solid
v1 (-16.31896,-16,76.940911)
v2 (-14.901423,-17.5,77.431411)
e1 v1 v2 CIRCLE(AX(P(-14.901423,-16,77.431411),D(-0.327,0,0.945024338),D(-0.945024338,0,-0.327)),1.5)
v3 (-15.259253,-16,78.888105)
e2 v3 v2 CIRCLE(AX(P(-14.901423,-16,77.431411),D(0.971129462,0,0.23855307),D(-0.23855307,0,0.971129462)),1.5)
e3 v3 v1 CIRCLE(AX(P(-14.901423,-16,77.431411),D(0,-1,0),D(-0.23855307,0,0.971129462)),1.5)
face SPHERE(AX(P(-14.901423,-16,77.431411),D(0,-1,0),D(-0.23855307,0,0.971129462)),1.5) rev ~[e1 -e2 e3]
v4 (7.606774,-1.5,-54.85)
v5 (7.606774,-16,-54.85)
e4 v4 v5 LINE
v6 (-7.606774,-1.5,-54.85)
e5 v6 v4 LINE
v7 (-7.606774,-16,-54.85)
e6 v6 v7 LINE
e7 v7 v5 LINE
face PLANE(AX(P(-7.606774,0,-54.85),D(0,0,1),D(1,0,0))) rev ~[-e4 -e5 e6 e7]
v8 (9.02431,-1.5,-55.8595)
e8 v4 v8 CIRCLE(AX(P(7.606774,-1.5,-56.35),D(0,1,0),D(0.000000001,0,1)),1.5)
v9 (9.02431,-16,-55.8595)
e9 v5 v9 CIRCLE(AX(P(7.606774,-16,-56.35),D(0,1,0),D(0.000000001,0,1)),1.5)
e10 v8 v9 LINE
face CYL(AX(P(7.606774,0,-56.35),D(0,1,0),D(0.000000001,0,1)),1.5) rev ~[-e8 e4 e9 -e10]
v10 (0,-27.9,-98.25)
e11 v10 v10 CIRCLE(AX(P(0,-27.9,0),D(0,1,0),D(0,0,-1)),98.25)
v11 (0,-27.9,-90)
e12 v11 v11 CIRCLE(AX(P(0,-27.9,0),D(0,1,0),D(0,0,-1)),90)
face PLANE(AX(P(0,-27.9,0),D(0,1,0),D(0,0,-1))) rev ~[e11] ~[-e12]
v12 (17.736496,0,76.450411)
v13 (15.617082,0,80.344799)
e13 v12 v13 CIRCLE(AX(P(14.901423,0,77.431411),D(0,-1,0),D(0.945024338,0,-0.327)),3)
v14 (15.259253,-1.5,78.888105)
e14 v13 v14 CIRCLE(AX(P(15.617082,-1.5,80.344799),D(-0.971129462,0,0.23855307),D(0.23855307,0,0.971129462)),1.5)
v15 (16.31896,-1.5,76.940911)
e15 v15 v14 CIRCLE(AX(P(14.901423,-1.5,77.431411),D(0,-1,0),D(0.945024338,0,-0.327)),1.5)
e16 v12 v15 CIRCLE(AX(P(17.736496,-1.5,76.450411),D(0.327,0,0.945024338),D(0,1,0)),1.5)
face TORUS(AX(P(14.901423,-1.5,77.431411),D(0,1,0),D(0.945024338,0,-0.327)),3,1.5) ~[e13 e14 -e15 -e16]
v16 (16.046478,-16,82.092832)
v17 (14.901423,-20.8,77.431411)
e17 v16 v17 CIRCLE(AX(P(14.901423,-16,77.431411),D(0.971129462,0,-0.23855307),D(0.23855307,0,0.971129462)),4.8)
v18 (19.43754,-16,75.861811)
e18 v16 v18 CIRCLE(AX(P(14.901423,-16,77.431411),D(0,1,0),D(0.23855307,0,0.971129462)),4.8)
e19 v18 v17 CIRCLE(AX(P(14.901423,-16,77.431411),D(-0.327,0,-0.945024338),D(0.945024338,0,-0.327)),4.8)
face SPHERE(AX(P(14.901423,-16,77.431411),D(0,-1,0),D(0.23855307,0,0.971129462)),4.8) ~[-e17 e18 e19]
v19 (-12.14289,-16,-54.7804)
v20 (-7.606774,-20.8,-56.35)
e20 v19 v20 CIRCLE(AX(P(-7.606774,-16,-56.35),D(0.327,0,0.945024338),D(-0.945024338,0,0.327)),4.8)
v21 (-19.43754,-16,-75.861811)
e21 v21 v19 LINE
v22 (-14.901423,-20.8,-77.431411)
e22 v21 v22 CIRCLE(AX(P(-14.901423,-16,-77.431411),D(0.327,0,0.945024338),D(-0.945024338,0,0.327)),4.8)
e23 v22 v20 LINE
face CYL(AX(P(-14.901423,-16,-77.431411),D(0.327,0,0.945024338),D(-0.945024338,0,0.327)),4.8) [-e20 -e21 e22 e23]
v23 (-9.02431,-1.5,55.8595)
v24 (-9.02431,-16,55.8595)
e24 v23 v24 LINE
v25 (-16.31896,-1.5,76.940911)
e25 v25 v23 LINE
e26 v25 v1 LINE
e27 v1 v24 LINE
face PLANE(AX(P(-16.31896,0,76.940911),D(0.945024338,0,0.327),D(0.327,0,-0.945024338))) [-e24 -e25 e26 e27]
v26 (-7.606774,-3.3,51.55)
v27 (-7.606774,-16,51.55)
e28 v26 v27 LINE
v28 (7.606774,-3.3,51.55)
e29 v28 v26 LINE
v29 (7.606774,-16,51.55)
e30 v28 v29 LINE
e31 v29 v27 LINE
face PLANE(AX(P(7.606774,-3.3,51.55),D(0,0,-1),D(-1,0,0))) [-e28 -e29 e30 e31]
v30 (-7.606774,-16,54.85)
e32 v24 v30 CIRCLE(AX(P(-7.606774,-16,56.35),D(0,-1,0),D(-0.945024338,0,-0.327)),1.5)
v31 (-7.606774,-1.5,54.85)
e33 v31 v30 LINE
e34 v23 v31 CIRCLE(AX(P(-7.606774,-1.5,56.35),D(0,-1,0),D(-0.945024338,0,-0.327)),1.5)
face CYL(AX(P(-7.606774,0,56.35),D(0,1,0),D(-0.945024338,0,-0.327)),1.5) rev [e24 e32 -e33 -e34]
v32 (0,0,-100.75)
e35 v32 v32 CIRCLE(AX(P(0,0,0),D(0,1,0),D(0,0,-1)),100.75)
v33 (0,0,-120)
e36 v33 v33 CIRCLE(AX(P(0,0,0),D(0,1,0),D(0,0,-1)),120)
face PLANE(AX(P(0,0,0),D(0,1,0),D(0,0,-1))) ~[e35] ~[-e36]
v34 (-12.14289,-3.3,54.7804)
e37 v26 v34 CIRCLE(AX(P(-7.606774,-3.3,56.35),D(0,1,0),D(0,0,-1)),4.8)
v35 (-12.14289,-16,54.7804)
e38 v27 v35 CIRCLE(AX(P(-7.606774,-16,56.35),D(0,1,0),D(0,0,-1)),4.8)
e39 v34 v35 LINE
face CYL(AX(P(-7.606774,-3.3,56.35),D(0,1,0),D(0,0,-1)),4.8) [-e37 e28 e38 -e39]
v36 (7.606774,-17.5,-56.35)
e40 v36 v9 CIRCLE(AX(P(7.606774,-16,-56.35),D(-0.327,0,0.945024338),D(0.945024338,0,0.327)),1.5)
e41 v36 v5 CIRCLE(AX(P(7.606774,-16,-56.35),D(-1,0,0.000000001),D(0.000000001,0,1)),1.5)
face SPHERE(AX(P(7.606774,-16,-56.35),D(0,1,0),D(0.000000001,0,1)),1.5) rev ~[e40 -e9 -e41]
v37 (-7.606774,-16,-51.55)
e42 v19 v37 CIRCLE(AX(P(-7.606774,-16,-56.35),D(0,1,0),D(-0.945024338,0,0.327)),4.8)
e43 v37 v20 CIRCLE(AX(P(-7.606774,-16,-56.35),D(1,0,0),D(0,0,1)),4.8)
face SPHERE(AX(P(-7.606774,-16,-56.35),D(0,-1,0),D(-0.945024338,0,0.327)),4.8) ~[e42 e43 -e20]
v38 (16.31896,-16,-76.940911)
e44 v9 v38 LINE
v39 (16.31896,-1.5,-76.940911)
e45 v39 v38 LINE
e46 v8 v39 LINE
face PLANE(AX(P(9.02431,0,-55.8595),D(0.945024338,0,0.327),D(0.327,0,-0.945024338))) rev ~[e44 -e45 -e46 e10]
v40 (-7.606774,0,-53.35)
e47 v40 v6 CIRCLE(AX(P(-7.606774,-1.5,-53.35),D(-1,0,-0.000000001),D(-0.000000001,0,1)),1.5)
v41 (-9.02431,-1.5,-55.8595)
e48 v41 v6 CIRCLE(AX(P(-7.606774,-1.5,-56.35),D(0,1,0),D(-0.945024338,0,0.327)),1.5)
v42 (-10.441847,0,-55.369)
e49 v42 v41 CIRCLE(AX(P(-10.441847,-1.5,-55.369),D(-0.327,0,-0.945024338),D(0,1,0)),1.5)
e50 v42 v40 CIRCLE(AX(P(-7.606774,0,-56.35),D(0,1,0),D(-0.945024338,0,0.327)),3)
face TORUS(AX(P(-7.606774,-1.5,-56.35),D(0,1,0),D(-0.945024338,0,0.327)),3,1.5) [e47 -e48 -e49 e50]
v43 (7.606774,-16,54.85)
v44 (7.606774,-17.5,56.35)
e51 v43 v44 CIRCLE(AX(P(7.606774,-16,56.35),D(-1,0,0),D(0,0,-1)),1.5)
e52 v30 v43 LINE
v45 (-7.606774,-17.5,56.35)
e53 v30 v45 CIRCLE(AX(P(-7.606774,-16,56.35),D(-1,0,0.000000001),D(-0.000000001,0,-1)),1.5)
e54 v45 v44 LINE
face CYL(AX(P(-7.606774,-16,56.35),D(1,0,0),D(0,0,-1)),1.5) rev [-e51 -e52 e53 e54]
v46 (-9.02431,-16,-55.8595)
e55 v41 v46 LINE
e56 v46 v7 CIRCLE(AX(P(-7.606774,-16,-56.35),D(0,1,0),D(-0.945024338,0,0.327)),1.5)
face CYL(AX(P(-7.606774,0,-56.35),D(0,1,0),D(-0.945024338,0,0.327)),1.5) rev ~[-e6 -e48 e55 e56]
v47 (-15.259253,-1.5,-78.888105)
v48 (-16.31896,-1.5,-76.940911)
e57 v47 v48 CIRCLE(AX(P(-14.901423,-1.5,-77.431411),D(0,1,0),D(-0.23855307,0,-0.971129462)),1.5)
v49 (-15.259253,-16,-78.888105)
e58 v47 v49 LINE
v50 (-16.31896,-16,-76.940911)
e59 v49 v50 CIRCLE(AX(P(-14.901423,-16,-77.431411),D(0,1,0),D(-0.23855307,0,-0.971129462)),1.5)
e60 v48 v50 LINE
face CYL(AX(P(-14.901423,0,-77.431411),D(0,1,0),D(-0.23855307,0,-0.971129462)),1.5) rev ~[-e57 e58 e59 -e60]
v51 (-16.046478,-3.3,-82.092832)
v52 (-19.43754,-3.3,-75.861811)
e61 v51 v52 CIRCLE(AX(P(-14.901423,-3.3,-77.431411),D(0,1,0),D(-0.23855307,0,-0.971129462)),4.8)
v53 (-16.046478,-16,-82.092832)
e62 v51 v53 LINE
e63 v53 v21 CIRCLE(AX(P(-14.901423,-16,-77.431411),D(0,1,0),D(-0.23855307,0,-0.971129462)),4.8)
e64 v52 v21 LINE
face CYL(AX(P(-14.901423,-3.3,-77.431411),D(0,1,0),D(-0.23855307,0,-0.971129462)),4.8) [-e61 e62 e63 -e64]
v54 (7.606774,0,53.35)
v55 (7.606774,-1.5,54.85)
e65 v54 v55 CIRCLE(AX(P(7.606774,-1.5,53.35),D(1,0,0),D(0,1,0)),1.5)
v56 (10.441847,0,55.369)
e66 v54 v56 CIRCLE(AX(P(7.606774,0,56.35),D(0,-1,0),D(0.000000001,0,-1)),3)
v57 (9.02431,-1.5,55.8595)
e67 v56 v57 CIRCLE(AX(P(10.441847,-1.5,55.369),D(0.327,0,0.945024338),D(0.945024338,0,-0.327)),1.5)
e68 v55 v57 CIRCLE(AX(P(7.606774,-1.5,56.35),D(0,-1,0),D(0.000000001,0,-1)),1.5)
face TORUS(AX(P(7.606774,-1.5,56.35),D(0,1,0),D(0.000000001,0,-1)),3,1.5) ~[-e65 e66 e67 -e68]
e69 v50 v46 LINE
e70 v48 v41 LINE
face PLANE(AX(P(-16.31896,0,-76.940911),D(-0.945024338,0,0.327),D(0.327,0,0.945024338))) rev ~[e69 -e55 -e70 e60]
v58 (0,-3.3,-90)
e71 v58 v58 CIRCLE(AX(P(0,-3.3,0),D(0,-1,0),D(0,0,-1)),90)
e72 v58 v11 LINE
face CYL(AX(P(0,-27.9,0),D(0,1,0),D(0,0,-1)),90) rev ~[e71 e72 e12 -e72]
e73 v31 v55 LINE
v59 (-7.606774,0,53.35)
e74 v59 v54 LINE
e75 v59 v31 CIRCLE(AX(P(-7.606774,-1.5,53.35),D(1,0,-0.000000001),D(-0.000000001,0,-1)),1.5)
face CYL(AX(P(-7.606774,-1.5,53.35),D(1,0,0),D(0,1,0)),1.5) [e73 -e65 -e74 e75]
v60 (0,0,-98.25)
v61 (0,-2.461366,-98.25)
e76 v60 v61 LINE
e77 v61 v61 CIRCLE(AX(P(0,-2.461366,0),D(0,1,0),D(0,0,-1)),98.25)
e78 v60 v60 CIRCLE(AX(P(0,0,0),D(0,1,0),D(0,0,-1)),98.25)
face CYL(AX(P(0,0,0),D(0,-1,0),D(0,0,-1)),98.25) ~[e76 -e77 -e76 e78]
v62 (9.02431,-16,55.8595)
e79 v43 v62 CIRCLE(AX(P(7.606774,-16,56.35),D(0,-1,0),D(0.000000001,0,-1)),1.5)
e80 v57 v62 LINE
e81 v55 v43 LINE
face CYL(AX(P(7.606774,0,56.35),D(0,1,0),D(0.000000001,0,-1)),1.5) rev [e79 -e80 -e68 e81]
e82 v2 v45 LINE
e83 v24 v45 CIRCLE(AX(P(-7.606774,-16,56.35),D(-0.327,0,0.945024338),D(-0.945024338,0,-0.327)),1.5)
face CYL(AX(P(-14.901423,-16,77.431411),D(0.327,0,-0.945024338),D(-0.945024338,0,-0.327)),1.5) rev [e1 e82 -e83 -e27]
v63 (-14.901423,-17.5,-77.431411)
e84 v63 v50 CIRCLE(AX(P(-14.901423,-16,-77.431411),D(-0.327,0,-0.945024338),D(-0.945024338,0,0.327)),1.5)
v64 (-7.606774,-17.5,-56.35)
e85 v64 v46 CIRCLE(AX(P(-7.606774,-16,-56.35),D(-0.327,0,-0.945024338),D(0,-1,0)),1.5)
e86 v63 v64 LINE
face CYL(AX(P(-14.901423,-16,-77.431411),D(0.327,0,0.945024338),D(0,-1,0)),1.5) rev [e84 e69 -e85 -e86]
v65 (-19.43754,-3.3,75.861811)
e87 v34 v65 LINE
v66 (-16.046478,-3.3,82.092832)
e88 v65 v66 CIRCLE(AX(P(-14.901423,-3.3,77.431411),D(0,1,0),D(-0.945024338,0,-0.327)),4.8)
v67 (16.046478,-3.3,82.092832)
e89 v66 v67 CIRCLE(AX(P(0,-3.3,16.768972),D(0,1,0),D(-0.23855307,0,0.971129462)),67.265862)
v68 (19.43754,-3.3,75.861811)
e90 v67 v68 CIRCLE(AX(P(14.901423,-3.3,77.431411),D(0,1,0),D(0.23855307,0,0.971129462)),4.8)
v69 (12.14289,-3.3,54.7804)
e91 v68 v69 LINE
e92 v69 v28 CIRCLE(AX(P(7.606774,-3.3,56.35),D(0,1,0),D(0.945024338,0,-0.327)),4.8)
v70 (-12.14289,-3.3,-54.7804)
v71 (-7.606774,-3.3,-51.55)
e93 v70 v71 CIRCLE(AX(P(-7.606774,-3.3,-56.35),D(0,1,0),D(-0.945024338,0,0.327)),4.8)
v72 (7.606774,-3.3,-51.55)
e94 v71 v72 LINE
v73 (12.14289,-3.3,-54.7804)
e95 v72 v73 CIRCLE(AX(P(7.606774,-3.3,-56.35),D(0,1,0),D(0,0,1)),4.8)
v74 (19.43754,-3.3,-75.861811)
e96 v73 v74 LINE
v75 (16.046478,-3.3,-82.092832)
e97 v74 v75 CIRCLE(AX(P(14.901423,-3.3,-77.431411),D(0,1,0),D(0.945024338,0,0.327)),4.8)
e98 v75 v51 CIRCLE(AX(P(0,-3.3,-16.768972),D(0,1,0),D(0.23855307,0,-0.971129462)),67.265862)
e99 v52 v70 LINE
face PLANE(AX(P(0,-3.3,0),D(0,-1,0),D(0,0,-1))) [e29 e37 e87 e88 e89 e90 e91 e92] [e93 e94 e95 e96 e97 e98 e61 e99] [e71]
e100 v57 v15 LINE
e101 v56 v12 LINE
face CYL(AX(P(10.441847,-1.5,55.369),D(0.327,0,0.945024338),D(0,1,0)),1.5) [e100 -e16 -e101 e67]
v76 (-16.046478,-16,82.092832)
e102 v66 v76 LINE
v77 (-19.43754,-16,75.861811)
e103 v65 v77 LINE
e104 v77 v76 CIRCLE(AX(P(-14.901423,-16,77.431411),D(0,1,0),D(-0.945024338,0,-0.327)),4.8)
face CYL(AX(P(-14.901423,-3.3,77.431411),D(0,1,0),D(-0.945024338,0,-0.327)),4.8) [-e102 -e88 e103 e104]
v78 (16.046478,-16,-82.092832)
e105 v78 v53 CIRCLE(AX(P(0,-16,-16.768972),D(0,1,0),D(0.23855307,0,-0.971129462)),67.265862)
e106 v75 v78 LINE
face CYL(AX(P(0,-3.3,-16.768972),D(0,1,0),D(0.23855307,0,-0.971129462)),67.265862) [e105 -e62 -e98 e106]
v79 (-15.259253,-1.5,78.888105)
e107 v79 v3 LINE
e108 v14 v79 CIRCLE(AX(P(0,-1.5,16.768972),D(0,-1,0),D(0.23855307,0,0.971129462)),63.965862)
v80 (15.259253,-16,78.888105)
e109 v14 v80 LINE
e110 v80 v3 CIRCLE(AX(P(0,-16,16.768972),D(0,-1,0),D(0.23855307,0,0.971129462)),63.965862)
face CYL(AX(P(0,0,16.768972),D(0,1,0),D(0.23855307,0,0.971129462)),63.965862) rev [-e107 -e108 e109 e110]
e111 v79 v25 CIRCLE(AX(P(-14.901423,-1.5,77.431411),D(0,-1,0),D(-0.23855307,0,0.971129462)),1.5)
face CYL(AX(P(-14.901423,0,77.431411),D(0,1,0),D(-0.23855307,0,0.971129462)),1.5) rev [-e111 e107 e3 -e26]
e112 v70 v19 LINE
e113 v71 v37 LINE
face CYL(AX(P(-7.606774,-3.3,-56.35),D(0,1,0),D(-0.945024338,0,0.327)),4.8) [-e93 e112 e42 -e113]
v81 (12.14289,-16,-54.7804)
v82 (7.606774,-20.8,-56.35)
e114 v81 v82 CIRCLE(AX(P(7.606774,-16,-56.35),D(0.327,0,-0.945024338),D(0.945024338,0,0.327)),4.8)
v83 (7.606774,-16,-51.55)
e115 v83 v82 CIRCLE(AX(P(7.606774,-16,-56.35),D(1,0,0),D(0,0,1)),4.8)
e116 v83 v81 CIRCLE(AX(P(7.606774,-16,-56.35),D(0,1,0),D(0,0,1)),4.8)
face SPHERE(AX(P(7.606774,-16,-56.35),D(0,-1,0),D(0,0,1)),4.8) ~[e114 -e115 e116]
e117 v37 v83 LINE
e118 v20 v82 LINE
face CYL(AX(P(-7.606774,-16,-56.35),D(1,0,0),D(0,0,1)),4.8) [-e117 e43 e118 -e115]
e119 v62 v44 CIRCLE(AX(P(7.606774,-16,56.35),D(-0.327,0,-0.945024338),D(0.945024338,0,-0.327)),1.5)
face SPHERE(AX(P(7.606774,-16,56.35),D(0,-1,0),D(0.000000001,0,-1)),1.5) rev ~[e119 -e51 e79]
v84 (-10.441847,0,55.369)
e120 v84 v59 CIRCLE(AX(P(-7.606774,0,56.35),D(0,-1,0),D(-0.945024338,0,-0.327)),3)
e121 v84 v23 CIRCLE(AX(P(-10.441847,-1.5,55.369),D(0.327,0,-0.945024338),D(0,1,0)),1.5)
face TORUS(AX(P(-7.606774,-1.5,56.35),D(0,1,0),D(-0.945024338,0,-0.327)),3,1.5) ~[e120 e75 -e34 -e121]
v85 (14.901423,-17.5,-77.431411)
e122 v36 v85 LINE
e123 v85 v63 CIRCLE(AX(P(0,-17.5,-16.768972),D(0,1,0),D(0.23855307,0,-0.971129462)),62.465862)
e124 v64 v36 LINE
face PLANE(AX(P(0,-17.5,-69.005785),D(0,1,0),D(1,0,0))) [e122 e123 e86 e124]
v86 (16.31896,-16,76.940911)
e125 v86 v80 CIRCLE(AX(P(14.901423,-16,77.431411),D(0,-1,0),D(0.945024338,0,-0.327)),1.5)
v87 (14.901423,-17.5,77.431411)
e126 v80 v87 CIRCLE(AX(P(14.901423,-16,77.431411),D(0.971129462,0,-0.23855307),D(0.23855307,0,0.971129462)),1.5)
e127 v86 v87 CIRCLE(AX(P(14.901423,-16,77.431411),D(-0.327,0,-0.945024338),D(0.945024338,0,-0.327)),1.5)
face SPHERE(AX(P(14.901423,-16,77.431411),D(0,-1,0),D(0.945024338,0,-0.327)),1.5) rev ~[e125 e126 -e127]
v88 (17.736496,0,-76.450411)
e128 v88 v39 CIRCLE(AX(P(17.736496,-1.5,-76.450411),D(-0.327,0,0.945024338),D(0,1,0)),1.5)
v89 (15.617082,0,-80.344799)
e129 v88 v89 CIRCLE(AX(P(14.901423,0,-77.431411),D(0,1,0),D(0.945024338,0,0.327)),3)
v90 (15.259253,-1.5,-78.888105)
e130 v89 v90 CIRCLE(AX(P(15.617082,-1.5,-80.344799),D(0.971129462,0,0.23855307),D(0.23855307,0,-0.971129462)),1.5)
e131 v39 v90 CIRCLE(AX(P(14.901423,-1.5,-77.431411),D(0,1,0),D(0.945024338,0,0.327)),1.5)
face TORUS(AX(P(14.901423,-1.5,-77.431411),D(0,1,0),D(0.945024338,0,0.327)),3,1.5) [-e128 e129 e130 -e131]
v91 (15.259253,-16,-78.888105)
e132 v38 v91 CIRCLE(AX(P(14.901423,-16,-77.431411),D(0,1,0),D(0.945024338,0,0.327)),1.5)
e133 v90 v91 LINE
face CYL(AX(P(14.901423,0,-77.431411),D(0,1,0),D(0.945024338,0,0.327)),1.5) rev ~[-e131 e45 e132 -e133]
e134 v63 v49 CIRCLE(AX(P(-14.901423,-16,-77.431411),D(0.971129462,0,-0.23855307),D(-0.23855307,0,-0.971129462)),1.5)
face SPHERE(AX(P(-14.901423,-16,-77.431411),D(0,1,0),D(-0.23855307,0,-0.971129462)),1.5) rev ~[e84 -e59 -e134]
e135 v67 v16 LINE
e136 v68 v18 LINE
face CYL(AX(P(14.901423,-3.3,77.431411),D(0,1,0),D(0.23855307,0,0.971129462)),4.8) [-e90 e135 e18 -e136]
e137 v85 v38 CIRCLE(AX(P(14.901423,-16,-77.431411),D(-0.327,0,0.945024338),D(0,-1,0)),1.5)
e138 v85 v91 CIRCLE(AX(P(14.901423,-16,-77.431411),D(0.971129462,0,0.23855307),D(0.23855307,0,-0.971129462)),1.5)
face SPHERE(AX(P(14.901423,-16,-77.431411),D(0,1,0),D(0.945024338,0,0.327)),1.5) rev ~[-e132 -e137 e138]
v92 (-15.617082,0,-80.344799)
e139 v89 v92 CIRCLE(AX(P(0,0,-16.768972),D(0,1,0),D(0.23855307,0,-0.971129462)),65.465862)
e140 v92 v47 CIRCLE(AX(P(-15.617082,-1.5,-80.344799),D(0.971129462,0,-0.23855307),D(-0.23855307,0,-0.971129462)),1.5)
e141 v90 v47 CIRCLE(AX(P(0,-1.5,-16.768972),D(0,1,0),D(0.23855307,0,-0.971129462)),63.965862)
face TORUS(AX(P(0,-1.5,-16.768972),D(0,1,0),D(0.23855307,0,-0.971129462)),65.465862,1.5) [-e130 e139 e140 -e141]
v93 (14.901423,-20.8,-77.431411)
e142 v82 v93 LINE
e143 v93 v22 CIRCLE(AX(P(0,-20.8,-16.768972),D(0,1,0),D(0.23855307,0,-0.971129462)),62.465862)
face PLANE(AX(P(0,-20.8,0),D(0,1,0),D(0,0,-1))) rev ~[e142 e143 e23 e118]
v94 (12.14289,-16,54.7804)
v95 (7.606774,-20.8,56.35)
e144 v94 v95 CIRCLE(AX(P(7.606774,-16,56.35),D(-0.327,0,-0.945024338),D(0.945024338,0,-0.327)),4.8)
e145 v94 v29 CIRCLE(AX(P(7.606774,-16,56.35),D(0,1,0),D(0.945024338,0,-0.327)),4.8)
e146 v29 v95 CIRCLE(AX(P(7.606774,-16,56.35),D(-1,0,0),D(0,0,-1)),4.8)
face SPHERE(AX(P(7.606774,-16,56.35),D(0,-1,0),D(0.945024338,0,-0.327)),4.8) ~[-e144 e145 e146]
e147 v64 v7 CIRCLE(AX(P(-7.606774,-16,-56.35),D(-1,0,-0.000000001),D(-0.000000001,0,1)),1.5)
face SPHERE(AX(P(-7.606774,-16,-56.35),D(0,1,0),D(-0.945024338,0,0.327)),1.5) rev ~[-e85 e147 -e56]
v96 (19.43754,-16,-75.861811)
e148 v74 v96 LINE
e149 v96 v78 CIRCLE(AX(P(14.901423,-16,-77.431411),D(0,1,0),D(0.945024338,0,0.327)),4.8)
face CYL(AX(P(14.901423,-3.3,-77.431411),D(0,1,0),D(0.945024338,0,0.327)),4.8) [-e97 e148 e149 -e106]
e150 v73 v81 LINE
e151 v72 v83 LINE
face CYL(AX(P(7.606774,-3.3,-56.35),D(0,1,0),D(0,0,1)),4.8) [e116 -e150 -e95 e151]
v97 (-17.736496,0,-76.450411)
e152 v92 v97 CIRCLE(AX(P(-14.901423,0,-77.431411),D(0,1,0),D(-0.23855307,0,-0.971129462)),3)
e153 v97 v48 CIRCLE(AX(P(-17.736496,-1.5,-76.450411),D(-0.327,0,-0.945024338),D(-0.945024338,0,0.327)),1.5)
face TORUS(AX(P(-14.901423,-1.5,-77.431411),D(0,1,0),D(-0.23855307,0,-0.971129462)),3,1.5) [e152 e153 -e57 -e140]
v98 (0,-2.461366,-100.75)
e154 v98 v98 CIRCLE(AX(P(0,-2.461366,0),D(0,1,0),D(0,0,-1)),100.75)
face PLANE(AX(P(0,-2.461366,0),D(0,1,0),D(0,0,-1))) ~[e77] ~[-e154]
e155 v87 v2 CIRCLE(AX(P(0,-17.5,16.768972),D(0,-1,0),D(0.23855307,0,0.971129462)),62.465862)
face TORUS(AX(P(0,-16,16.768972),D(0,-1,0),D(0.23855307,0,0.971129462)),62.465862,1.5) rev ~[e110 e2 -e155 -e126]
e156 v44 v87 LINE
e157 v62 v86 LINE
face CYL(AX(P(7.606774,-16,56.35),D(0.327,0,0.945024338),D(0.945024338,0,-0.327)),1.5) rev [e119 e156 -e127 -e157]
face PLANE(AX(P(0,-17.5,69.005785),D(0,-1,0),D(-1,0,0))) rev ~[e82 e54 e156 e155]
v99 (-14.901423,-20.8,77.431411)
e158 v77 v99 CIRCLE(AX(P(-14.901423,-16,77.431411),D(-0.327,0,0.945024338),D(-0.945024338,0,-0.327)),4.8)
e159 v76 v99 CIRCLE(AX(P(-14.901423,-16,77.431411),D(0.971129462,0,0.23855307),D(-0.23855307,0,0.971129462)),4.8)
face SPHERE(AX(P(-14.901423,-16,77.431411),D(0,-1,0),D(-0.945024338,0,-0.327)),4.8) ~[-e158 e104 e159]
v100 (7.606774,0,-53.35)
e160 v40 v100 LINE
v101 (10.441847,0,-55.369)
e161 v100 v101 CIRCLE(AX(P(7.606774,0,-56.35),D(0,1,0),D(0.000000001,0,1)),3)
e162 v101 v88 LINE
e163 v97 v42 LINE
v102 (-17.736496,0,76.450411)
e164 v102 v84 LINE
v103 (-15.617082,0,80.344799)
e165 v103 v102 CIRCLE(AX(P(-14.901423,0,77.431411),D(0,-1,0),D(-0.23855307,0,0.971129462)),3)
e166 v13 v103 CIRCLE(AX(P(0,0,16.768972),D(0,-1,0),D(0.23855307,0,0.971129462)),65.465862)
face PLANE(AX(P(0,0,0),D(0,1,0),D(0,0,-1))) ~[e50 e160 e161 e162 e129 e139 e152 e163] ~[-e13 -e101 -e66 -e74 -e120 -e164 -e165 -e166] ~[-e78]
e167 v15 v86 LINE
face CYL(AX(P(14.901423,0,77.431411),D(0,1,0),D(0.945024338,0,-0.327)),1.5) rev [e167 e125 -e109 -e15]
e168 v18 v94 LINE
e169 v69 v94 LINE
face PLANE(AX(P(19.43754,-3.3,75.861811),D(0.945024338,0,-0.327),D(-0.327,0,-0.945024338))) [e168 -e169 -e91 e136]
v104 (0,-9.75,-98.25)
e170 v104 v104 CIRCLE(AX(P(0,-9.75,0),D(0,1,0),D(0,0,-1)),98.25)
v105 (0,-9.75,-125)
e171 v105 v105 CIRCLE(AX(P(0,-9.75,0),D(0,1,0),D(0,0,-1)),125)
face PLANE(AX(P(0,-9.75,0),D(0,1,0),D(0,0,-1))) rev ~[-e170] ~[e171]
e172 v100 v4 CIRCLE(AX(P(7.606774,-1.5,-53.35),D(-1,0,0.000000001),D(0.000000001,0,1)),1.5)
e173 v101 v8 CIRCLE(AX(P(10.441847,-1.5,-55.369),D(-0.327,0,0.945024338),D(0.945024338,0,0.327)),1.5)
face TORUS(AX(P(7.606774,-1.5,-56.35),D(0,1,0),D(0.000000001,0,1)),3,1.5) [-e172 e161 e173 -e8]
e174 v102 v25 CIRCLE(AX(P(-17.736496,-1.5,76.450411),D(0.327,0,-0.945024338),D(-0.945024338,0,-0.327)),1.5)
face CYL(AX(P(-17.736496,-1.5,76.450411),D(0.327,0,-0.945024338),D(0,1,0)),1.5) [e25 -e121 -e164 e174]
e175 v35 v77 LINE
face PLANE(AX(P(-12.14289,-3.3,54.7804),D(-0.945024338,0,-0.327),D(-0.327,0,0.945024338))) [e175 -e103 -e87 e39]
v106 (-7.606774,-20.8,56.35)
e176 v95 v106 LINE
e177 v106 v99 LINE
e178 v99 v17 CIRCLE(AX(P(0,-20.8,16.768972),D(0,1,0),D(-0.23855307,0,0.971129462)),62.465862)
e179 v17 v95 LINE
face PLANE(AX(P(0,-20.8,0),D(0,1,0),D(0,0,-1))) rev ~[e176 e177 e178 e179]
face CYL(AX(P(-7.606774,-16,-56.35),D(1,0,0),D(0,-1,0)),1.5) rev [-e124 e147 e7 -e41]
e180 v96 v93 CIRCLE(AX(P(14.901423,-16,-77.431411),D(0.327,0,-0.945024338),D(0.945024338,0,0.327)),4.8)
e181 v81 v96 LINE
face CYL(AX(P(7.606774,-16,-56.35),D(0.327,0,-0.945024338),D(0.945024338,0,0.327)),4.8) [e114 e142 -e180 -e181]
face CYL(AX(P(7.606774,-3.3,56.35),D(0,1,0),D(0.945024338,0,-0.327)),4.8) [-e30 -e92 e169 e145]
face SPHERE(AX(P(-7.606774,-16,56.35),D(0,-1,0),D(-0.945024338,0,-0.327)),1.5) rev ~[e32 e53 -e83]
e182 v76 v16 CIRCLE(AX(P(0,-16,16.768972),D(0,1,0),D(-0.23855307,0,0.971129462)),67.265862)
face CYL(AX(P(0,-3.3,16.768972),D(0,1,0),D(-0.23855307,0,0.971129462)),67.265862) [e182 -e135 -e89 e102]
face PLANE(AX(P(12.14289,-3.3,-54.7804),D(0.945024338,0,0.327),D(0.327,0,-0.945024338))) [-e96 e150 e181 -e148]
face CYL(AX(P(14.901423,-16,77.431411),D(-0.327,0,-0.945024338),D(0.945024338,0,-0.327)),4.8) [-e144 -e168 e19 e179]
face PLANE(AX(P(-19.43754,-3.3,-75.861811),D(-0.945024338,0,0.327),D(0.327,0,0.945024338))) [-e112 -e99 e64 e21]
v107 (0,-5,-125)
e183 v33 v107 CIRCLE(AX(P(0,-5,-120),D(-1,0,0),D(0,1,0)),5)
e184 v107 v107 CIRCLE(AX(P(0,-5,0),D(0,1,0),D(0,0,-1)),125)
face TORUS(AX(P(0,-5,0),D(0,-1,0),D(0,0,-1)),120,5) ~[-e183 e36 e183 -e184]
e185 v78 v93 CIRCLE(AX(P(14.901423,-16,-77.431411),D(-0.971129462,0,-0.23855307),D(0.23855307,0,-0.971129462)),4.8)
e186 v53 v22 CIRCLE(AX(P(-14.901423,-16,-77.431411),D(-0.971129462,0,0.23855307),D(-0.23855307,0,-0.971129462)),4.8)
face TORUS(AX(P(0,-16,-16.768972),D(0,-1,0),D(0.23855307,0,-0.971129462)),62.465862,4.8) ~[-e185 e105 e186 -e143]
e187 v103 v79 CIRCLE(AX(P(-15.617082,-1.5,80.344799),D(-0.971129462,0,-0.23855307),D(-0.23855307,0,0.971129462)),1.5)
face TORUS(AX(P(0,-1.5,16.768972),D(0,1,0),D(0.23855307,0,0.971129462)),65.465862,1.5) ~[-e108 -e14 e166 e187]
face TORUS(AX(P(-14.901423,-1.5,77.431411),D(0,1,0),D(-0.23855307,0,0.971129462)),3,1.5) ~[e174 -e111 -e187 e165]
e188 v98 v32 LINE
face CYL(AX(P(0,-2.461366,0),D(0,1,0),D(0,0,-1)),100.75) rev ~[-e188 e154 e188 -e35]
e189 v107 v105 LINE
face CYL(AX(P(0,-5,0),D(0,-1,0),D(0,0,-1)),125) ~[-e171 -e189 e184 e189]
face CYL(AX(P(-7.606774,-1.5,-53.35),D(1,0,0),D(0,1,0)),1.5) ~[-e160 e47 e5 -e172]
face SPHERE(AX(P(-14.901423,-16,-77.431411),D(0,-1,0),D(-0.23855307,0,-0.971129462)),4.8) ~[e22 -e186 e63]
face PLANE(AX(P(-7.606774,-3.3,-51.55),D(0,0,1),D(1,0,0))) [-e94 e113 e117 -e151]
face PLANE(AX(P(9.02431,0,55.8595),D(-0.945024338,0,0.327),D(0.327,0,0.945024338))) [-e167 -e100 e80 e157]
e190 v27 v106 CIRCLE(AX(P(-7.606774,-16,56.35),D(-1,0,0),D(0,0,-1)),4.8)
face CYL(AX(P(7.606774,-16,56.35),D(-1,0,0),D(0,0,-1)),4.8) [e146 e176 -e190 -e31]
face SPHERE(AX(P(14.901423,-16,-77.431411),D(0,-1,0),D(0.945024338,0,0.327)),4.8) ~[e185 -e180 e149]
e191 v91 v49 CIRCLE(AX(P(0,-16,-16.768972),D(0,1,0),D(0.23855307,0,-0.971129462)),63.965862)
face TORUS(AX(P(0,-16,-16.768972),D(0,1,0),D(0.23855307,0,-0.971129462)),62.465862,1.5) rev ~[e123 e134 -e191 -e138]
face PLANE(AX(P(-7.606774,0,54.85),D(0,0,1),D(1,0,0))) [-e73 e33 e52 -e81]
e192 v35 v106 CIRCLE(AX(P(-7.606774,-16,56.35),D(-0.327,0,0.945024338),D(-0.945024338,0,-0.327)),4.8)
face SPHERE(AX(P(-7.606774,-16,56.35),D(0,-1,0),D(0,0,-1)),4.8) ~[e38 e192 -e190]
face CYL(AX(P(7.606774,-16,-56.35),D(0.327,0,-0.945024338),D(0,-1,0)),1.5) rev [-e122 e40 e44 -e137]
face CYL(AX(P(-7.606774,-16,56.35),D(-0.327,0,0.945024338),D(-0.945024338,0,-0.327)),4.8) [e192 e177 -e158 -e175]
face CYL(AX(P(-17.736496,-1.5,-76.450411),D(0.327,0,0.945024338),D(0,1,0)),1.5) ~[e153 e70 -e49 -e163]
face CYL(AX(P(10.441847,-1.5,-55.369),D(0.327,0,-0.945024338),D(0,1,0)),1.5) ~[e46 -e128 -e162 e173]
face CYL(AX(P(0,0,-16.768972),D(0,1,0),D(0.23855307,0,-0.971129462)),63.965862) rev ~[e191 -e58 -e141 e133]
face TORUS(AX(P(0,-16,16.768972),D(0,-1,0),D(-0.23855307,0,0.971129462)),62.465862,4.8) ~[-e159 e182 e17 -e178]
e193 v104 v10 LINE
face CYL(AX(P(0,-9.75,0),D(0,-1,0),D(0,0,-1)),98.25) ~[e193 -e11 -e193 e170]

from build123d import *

# Parameters (mm, degrees)
CUT_EXTRUDE1_DEPTH = 17.5
CUT_EXTRUDE2_START = -17.5
SKETCH5_R          = 90
CUT_EXTRUDE2_DEPTH = 17.5
FILLET2_R          = 1.5
FILLET4_R          = 4.8


with BuildPart() as part:
    # Sketch2 → Revolve1 (revolve)
    with BuildSketch(Plane.XY, mode=Mode.PRIVATE) as revolve1_sk:
        with BuildLine():
            Line((0, 0), (98.25, 0))
            Line((98.25, 0), (98.25, -2.461366108))
            Line((98.25, -2.461366108), (100.75, -2.461366108))
            Line((100.75, -2.461366108), (100.75, 0))
            Line((100.75, 0), (120, 0))
            ThreePointArc((120, 0), (123.535533906, -1.464466094), (125, -5))
            Line((125, -5), (125, -9.75))
            Line((125, -9.75), (98.25, -9.75))
            Line((98.25, -9.75), (98.25, -27.9))
            Line((98.25, -27.9), (90, -27.9))
            Line((90, -27.9), (90, -20.8))
            Line((90, -20.8), (0, -20.8))
            Line((0, -20.8), (0, 0))
        make_face()
    revolve(revolve1_sk.sketch.rotate(Axis((0, -20.8, 0), (0, 1, 0)), 90), axis=Axis((0, -20.8, 0), (0, 1, 0)))

    # Sketch4 → Cut-Extrude1 (cut)
    with BuildSketch(Plane(origin=(0, 0, 0), x_dir=(1, 0, 0), z_dir=(0, 1, 0))):
        with BuildLine():
            Line((-7.606773544, 54.85), (7.606773544, 54.85))
            ThreePointArc((7.606773544, 54.85), (8.476902844, 55.12816736), (9.024310051, 55.8595))
            Line((9.024310051, 55.8595), (16.318959586, 76.940910854))
            ThreePointArc((16.318959586, 76.940910854), (16.218948226, 78.148437691), (15.259252683, 78.888105048))
            ThreePointArc((15.259252683, 78.888105048), (0, 80.734833862), (-15.259252683, 78.888105048))
            ThreePointArc((-15.259252683, 78.888105048), (-16.218948226, 78.148437691), (-16.318959586, 76.940910854))
            Line((-16.318959586, 76.940910854), (-9.024310051, 55.8595))
            ThreePointArc((-9.024310051, 55.8595), (-8.476902844, 55.12816736), (-7.606773544, 54.85))
        make_face()
        with BuildLine():
            Line((-16.318959586, -76.940910854), (-9.024310051, -55.8595))
            ThreePointArc((-9.024310051, -55.8595), (-8.476902844, -55.12816736), (-7.606773544, -54.85))
            Line((-7.606773544, -54.85), (7.606773544, -54.85))
            ThreePointArc((7.606773544, -54.85), (8.476902844, -55.12816736), (9.024310051, -55.8595))
            Line((9.024310051, -55.8595), (16.318959586, -76.940910854))
            ThreePointArc((16.318959586, -76.940910854), (16.218948226, -78.148437691), (15.259252683, -78.888105048))
            ThreePointArc((15.259252683, -78.888105048), (0, -80.734833862), (-15.259252683, -78.888105048))
            ThreePointArc((-15.259252683, -78.888105048), (-16.218948226, -78.148437691), (-16.318959586, -76.940910854))
        make_face()
    extrude(amount=-CUT_EXTRUDE1_DEPTH, mode=Mode.SUBTRACT)

    # Sketch5 → Cut-Extrude2 (cut)
    with BuildSketch(Plane.XZ.offset(20.8).offset(CUT_EXTRUDE2_START)):
        with Locations(Location((0, 0, 0), (0, 0, 270))):
            Circle(SKETCH5_R)
        with BuildLine():
            Line((-7.606773544, -51.55), (7.606773544, -51.55))
            ThreePointArc((7.606773544, -51.55), (10.391187306, -52.440135552), (12.142890368, -54.7804))
            Line((12.142890368, -54.7804), (19.437539902, -75.861810854))
            ThreePointArc((19.437539902, -75.861810854), (19.117503551, -79.725896732), (16.046477815, -82.092832274))
            ThreePointArc((16.046477815, -82.092832274), (0, -84.034833862), (-16.046477815, -82.092832274))
            ThreePointArc((-16.046477815, -82.092832274), (-19.117503551, -79.725896732), (-19.437539902, -75.861810854))
            Line((-19.437539902, -75.861810854), (-12.142890368, -54.7804))
            ThreePointArc((-12.142890368, -54.7804), (-10.391187306, -52.440135552), (-7.606773544, -51.55))
        make_face(mode=Mode.SUBTRACT)
        with BuildLine():
            Line((-12.142890368, 54.7804), (-19.437539902, 75.861810854))
            ThreePointArc((-19.437539902, 75.861810854), (-19.117503551, 79.725896732), (-16.046477815, 82.092832274))
            ThreePointArc((-16.046477815, 82.092832274), (0, 84.034833862), (16.046477815, 82.092832274))
            ThreePointArc((16.046477815, 82.092832274), (19.117503551, 79.725896732), (19.437539902, 75.861810854))
            Line((19.437539902, 75.861810854), (12.142890368, 54.7804))
            ThreePointArc((12.142890368, 54.7804), (10.391187306, 52.440135552), (7.606773544, 51.55))
            Line((7.606773544, 51.55), (-7.606773544, 51.55))
            ThreePointArc((-7.606773544, 51.55), (-10.391187306, 52.440135552), (-12.142890368, 54.7804))
        make_face(mode=Mode.SUBTRACT)
    extrude(amount=CUT_EXTRUDE2_DEPTH, mode=Mode.SUBTRACT)

    # Fillet2
    fillet2_edges = [part.edges().sort_by_distance(p)[0] for p in [
        (8.476902844, -17.5, -55.12816736),
        (0, -17.5, -54.85),
        (-8.476902844, -17.5, -55.12816736),
        (-12.671634818, -17.5, -66.400205427),
        (-16.218948226, -17.5, -78.148437691),
        (0, -17.5, -80.734833862),
        (16.218948226, -17.5, -78.148437691),
        (12.671634818, -17.5, -66.400205427),
        (8.476902844, 0, -55.12816736),
        (12.671634818, 0, -66.400205427),
        (16.218948226, 0, -78.148437691),
        (0, 0, -80.734833862),
        (-16.218948226, 0, -78.148437691),
        (-12.671634818, 0, -66.400205427),
        (-8.476902844, 0, -55.12816736),
        (0, 0, -54.85),
        (-16.218948226, -17.5, 78.148437691),
        (-12.671634818, -17.5, 66.400205427),
        (-8.476902844, -17.5, 55.12816736),
        (0, -17.5, 54.85),
        (8.476902844, -17.5, 55.12816736),
        (12.671634818, -17.5, 66.400205427),
        (16.218948226, -17.5, 78.148437691),
        (0, -17.5, 80.734833862),
        (-16.218948226, 0, 78.148437691),
        (0, 0, 80.734833862),
        (16.218948226, 0, 78.148437691),
        (12.671634818, 0, 66.400205427),
        (8.476902844, 0, 55.12816736),
        (0, 0, 54.85),
        (-8.476902844, 0, 55.12816736),
        (-12.671634818, 0, 66.400205427),
    ]]
    fillet(fillet2_edges, radius=FILLET2_R)

    # Fillet4
    fillet4_edges = [part.edges().sort_by_distance(p)[0] for p in [
        (10.391187306, -20.8, -52.440135552),
        (15.790215135, -20.8, -65.321105427),
        (19.117503551, -20.8, -79.725896732),
        (0, -20.8, -84.034833862),
        (-19.117503551, -20.8, -79.725896732),
        (-15.790215135, -20.8, -65.321105427),
        (-10.391187306, -20.8, -52.440135552),
        (0, -20.8, -51.55),
        (0, -20.8, 84.034833862),
        (19.117503551, -20.8, 79.725896732),
        (15.790215135, -20.8, 65.321105427),
        (10.391187306, -20.8, 52.440135552),
        (0, -20.8, 51.55),
        (-10.391187306, -20.8, 52.440135552),
        (-15.790215135, -20.8, 65.321105427),
        (-19.117503551, -20.8, 79.725896732),
    ]]
    fillet(fillet4_edges, radius=FILLET4_R)


solid = part.part
